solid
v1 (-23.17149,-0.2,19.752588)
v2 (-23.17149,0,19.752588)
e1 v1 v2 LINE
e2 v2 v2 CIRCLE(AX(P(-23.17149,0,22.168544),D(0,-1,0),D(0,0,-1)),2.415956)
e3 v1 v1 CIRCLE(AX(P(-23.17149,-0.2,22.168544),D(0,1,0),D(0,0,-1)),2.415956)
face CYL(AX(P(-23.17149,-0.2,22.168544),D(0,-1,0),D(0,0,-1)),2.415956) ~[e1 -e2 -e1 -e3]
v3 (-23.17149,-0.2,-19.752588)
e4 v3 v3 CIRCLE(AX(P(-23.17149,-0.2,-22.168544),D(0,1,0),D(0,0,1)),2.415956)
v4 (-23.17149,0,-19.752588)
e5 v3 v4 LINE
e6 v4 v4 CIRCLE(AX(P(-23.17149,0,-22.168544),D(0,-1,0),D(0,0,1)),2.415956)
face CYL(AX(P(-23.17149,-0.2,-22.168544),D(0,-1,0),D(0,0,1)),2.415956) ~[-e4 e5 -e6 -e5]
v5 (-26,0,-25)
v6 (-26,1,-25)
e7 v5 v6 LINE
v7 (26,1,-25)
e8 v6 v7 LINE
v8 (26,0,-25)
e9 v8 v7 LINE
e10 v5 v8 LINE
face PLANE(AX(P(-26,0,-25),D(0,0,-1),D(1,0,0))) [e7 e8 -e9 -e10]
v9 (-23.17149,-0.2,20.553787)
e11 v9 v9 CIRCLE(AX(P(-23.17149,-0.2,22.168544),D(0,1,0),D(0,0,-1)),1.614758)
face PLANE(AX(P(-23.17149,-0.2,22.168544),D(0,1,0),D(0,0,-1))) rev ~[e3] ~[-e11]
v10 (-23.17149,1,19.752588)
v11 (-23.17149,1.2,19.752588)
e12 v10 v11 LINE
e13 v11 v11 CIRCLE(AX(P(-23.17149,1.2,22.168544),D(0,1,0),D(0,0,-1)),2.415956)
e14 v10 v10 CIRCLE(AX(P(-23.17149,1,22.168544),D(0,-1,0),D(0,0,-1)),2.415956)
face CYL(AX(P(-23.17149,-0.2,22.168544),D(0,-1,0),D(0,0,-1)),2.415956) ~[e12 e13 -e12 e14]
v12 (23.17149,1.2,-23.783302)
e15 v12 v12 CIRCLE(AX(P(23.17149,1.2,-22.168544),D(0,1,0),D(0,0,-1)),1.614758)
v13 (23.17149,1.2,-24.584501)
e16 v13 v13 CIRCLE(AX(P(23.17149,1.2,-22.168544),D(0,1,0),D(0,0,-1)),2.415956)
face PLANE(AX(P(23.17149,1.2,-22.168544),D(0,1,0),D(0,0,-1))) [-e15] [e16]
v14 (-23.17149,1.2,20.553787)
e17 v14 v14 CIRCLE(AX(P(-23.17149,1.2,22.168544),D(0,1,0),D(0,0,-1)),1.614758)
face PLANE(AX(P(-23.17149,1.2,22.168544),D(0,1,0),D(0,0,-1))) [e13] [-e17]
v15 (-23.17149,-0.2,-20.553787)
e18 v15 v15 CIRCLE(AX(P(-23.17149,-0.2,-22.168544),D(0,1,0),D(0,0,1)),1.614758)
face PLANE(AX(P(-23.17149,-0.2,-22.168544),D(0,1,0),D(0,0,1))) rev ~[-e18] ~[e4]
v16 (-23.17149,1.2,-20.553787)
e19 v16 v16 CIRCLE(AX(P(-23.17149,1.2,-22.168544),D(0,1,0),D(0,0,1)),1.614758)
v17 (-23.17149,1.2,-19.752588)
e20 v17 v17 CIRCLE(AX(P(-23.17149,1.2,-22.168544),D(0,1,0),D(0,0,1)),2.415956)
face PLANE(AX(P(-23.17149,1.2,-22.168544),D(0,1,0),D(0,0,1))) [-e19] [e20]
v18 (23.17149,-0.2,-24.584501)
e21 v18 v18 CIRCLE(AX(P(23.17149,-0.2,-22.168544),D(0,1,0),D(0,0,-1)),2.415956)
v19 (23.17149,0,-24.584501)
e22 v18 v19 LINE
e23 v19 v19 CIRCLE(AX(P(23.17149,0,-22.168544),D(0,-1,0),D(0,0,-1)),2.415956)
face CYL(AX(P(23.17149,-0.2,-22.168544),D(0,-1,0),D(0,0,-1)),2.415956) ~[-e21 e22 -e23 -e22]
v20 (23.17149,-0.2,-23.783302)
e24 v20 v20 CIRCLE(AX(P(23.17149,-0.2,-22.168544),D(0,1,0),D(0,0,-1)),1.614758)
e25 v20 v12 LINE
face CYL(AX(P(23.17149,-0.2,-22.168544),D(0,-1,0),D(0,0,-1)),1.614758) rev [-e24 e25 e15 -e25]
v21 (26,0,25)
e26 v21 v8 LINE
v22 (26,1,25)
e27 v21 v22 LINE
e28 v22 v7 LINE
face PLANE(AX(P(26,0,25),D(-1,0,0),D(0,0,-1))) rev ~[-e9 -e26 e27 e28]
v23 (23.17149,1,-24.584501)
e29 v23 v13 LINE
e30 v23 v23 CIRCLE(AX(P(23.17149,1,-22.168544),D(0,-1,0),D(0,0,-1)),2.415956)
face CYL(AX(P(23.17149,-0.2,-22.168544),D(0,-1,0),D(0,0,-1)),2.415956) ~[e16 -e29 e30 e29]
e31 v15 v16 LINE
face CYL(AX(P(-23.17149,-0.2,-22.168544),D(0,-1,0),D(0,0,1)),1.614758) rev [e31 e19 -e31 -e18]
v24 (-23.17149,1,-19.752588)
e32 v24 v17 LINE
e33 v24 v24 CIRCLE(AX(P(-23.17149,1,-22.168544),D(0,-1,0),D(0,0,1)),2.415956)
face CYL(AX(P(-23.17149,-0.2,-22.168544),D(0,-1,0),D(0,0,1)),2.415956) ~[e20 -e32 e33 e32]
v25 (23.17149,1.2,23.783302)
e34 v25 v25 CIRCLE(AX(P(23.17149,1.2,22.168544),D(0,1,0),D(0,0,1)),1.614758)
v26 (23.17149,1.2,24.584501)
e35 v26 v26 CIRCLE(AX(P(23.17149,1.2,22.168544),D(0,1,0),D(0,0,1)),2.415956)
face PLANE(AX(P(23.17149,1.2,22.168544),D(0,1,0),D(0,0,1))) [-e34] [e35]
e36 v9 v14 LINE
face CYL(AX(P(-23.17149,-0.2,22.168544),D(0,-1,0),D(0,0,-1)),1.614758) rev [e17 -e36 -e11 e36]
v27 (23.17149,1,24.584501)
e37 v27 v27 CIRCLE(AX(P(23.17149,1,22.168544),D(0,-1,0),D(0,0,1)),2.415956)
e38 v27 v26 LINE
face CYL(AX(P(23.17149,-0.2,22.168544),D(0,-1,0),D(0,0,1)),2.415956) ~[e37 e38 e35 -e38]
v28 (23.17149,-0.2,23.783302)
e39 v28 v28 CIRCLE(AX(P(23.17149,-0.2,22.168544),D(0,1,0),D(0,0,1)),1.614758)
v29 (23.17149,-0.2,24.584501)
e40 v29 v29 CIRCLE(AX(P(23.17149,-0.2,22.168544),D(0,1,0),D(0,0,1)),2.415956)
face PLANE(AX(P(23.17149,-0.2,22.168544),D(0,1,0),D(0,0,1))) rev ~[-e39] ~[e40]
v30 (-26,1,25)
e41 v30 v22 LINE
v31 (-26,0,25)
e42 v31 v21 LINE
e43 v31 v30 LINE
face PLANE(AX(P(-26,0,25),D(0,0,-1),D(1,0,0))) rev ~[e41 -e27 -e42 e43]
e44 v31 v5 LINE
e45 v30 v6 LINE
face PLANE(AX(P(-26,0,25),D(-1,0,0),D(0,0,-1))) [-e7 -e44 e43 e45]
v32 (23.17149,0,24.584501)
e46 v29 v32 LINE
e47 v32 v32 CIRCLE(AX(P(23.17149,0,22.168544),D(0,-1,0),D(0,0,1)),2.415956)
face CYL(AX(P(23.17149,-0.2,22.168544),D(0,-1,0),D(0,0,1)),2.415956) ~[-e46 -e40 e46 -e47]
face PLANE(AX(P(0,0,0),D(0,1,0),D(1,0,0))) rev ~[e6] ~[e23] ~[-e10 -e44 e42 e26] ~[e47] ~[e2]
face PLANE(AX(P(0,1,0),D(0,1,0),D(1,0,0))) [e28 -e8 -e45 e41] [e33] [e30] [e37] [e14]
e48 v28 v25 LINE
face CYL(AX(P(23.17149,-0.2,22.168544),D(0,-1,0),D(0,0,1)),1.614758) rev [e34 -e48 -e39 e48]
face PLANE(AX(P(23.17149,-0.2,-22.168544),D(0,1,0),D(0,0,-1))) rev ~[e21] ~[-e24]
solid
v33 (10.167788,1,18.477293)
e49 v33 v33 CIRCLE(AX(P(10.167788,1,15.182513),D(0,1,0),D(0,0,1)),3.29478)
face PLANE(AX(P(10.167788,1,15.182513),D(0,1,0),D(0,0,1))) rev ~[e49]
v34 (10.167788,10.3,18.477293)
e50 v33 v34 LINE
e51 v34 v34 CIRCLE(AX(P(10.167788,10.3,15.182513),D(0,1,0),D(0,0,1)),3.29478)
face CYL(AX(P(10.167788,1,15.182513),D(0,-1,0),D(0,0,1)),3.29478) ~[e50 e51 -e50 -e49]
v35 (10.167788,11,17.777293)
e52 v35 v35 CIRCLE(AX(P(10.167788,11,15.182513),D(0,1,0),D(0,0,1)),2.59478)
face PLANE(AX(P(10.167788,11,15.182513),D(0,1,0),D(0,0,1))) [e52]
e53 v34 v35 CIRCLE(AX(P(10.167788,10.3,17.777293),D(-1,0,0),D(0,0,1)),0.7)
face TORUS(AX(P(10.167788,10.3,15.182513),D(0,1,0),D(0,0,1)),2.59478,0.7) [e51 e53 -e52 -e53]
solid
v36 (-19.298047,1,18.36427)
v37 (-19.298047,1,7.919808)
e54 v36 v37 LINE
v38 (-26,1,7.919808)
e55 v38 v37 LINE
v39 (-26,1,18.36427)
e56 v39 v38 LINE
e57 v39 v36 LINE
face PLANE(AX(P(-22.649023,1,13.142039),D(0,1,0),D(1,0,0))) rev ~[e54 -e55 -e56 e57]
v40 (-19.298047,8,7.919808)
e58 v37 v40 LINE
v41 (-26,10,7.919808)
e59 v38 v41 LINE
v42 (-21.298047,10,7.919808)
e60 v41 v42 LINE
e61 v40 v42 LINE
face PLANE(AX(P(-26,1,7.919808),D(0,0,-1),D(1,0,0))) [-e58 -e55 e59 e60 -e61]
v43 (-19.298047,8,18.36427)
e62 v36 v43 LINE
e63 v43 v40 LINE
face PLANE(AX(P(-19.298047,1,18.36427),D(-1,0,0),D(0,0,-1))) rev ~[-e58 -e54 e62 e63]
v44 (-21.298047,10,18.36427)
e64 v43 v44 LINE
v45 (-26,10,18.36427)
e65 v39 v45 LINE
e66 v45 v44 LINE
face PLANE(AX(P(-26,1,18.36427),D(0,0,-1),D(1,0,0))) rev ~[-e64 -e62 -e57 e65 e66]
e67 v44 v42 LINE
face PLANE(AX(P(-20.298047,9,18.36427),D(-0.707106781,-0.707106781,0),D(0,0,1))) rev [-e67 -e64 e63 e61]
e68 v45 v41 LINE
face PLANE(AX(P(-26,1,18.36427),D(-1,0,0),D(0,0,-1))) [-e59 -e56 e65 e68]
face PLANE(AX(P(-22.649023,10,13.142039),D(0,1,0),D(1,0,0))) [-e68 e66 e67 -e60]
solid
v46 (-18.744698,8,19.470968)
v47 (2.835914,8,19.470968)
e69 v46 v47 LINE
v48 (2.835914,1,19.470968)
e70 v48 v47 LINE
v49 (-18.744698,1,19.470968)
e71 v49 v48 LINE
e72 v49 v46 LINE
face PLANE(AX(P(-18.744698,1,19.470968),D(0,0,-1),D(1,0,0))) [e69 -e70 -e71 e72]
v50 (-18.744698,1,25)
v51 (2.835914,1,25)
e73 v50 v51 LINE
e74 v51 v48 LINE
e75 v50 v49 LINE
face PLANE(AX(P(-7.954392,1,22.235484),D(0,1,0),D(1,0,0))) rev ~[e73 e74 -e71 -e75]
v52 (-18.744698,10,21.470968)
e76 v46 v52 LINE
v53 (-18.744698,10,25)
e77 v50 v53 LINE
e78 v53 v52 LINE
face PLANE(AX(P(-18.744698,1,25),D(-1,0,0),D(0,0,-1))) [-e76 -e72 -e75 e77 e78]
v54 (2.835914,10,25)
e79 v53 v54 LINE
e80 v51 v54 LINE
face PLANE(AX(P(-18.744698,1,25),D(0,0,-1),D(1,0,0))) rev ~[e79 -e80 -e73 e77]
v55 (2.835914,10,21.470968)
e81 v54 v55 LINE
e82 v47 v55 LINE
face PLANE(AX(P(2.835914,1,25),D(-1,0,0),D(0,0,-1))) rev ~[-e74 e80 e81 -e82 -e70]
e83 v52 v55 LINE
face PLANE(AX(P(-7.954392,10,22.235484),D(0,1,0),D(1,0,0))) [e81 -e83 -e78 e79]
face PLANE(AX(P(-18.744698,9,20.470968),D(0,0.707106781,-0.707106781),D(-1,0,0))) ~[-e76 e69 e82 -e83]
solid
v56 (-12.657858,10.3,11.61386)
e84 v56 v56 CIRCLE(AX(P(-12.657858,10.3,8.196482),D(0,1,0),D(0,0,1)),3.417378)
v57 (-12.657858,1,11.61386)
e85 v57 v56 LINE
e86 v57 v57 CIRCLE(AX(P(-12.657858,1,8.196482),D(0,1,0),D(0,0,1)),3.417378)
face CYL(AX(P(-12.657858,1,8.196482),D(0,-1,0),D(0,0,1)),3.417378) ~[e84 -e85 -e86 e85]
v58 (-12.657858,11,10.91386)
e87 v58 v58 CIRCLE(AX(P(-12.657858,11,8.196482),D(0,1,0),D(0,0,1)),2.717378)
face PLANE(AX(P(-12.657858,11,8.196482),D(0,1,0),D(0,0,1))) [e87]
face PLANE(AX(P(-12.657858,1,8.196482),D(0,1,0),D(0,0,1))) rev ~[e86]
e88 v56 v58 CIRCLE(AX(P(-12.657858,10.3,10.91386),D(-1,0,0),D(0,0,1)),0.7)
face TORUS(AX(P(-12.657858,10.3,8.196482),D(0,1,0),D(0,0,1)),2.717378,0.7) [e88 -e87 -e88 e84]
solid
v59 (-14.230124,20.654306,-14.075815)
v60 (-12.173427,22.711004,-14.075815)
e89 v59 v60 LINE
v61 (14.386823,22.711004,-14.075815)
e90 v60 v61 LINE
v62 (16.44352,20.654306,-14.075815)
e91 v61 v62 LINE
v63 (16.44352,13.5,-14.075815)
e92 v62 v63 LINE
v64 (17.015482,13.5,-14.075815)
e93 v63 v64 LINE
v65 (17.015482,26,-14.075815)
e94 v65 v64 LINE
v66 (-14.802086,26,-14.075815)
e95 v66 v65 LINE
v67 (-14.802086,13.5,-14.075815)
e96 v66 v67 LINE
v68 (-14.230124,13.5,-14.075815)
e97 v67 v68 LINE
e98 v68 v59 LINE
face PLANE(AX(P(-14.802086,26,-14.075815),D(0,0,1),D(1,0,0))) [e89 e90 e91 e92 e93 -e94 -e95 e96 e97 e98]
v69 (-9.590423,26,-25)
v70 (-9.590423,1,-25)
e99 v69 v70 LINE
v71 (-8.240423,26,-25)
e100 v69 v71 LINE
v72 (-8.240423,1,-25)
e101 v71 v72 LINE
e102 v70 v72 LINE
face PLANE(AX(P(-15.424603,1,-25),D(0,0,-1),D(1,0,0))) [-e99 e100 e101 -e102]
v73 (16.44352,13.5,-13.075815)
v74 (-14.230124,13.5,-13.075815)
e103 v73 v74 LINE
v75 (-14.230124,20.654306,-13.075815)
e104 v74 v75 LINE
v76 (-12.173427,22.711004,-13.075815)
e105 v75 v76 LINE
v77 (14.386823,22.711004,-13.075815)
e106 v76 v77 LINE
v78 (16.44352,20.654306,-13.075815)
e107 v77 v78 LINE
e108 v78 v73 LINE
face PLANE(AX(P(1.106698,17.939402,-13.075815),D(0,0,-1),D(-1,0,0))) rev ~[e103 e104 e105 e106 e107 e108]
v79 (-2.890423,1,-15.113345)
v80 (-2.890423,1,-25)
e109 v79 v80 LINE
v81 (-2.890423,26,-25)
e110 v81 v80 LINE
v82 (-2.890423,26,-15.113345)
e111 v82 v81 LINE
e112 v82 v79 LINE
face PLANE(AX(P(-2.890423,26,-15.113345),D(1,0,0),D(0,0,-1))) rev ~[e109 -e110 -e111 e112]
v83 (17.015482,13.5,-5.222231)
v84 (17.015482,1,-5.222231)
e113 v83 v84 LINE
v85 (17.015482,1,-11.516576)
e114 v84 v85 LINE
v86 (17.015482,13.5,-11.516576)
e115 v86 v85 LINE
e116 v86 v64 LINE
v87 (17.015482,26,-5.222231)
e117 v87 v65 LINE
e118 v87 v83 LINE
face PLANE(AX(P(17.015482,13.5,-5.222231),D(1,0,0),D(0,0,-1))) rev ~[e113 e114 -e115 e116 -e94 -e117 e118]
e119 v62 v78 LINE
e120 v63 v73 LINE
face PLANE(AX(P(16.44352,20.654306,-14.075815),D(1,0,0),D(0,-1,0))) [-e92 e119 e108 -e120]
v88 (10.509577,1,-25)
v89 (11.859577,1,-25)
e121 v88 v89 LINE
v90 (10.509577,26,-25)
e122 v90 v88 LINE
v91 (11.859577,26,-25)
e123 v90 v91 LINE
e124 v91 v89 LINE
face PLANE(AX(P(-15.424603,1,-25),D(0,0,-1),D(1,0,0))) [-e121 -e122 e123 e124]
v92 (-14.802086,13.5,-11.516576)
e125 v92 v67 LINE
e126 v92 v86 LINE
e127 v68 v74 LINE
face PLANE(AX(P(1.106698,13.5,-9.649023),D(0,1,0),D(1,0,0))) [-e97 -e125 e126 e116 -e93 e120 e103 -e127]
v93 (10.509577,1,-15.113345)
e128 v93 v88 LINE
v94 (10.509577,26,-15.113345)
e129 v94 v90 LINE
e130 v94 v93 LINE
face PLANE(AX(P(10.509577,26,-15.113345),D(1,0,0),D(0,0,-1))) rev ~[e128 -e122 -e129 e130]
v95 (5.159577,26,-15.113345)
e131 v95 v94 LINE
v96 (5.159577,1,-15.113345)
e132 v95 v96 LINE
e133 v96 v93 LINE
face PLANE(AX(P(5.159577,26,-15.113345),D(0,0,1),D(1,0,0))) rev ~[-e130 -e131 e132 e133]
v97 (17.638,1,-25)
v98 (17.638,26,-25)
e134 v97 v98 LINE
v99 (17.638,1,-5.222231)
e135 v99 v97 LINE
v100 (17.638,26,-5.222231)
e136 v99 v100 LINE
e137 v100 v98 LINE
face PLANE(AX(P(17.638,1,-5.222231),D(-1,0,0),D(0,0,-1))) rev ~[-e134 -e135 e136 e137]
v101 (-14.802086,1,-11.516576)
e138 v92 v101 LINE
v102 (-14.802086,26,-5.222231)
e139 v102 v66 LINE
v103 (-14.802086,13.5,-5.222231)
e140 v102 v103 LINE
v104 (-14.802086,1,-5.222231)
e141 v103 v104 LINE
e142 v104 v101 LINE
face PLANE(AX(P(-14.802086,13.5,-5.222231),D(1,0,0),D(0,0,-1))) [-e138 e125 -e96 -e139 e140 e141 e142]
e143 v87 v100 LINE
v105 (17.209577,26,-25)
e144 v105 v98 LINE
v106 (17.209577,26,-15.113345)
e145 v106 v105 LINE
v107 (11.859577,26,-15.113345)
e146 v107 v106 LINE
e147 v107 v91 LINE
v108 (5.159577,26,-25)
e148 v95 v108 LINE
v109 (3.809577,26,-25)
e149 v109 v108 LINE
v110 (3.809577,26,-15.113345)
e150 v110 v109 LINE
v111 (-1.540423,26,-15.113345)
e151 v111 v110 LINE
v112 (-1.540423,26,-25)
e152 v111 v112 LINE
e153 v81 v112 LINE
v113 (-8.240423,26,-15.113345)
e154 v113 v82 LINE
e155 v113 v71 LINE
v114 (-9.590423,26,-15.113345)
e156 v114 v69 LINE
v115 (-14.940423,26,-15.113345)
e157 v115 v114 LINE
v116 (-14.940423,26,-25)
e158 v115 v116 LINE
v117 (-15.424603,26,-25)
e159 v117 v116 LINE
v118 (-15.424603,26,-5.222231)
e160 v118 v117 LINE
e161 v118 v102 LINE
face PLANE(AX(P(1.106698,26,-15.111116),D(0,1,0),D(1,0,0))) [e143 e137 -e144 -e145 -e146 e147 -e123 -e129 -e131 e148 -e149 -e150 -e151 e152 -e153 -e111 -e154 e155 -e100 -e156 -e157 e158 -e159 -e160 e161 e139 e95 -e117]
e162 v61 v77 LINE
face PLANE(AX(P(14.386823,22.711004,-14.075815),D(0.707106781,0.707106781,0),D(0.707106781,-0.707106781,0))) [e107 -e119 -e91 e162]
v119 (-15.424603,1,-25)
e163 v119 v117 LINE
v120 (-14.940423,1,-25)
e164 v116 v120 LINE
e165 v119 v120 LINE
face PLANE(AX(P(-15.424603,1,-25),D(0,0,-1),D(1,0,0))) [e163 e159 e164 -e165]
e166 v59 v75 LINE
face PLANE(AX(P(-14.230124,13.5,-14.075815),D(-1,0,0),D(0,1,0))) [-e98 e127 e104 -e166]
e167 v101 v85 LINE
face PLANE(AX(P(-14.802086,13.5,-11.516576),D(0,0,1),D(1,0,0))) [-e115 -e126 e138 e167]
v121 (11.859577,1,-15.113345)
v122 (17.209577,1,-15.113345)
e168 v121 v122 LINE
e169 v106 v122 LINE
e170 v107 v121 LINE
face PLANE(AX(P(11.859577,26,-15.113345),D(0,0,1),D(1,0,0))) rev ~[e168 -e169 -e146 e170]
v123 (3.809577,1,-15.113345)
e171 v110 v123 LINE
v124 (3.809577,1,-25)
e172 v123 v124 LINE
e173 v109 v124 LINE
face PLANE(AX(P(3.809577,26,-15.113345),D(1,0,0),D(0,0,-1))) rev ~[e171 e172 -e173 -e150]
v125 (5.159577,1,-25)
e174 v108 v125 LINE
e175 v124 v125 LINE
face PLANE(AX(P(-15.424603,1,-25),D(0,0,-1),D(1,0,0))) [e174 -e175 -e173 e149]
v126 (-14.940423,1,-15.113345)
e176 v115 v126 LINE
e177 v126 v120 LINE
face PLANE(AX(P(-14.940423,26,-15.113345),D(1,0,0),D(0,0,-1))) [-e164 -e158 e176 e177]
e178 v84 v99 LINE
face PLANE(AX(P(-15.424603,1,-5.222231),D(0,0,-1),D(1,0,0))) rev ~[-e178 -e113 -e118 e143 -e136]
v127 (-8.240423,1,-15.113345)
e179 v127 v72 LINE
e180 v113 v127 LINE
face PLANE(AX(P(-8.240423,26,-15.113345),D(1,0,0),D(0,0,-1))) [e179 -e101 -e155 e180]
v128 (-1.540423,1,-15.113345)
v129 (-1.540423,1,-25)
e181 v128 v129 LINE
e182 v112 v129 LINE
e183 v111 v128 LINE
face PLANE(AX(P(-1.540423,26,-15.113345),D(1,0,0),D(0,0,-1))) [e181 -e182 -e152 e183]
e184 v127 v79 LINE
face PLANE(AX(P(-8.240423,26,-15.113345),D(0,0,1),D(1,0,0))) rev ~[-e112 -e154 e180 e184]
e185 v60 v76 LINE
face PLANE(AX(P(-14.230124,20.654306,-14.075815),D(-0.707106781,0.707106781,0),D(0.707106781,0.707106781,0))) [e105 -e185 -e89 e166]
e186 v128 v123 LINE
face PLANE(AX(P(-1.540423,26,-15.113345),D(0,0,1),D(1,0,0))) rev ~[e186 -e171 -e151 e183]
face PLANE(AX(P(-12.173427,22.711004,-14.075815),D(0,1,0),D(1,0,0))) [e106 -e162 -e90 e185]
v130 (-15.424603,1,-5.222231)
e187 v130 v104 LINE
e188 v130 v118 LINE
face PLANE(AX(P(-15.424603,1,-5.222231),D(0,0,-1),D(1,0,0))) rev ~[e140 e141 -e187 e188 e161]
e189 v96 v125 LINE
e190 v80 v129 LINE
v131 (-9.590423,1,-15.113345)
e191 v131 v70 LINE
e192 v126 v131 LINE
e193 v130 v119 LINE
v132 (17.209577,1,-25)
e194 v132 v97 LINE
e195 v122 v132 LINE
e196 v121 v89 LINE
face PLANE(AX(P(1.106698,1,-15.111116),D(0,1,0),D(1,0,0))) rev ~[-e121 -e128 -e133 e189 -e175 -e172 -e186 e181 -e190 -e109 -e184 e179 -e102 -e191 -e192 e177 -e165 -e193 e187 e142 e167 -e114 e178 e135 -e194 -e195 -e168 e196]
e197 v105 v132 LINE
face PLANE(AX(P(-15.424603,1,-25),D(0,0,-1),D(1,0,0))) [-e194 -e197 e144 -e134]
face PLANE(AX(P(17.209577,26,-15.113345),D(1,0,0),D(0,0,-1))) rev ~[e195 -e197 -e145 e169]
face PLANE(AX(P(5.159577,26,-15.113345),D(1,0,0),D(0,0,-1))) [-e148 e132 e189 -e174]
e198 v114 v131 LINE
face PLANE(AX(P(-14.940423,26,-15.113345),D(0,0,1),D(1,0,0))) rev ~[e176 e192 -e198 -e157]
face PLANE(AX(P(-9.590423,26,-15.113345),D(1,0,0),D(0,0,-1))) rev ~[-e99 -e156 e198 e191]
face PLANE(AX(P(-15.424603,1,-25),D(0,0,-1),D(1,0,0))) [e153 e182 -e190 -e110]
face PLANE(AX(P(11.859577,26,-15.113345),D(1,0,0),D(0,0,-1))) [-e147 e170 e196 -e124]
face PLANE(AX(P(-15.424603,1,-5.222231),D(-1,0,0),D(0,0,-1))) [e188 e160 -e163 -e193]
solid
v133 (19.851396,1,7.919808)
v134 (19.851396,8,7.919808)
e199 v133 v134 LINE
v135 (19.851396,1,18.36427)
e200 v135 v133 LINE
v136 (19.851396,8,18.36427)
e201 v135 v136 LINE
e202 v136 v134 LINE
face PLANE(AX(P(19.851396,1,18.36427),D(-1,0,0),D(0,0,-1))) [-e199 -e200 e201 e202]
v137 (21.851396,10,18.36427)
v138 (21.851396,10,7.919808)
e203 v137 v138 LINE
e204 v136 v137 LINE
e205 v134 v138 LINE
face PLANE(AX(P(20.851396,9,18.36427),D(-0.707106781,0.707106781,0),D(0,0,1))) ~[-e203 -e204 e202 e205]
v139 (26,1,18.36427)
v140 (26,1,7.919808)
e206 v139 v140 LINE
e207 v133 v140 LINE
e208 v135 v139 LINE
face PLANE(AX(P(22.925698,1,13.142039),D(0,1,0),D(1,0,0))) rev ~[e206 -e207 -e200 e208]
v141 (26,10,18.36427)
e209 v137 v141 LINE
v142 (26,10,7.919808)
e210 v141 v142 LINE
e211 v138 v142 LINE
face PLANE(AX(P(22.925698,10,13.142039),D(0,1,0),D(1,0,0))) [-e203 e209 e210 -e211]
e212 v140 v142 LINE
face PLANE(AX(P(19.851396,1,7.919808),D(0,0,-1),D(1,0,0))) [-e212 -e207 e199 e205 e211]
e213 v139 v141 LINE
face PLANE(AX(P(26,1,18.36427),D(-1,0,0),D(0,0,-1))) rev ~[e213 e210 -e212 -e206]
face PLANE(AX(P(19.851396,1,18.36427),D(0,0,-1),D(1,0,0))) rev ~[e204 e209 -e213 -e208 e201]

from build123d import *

# Parameters (mm, degrees)
SKETCH1_W                = 52
SKETCH1_H                = 50
BOSS_EXTRUDE1_DEPTH      = 1
SKETCH2_W                = 21.580611169
SKETCH2_H                = 5.529031909
BOSS_EXTRUDE2_DEPTH      = 9
SKETCH2_W_2              = 6.701953473
SKETCH2_H_2              = 10.444462457
BOSS_EXTRUDE2_2_DEPTH    = 9
SKETCH2_W_3              = 6.148604469
BOSS_EXTRUDE2_3_DEPTH    = 9
SKETCH3_R                = 3.417378128
BOSS_EXTRUDE3_DEPTH      = 10
SKETCH3_R_2              = 3.294779793
BOSS_EXTRUDE3_2_DEPTH    = 10
SKETCH4_R                = 1.614757822
CUT_EXTRUDE1_DEPTH       = 10
BOSS_EXTRUDE4_DEPTH      = 0.2
BOSS_EXTRUDE4_DEPTH_BACK = 1.2
SKETCH5_R                = 2.415956226
SKETCH5_R_2              = 1.614757822
SKETCH6_W                = 33.06260301
SKETCH6_H                = 19.777768771
BOSS_EXTRUDE5_DEPTH      = 25
SKETCH7_W                = 5.35
SKETCH7_H                = 9.886655319
CUT_EXTRUDE2_DEPTH       = 25
SKETCH8_W                = 31.81756775
SKETCH8_H                = 8.853584069
CUT_EXTRUDE3_DEPTH       = 12.5
SKETCH9_W                = 31.81756775
SKETCH9_H                = 6.294344924
CUT_EXTRUDE4_DEPTH       = 12.5
BOSS_EXTRUDE6_DEPTH      = 1
FILLET1_R                = 0.7
FILLET2_R                = 0.7
CHAMFER1_SIZE            = 2
CHAMFER2_SIZE            = 2
CHAMFER3_SIZE            = 2


with BuildPart() as part:
    # Sketch1 → Boss-Extrude1 (new body)
    with BuildSketch(Plane(origin=(0, 0, 0), x_dir=(1, 0, 0), z_dir=(0, 1, 0))):
        Rectangle(SKETCH1_W, SKETCH1_H)
    extrude(amount=BOSS_EXTRUDE1_DEPTH)

    # Sketch4 → Cut-Extrude1 (cut)
    with BuildSketch(Plane(origin=(0, 1, 0), x_dir=(1, 0, 0), z_dir=(0, 1, 0))):
        with Locations(Location((-23.171489557, 22.168544487, 0), (0, 0, 270))):
            Circle(SKETCH4_R)
        with Locations(Location((23.171489557, 22.168544487, 0), (0, 0, 90))):
            Circle(SKETCH4_R)
        with Locations(Location((23.171489557, -22.168544487, 0), (0, 0, 270))):
            Circle(SKETCH4_R)
        with Locations(Location((-23.171489557, -22.168544487, 0), (0, 0, 90))):
            Circle(SKETCH4_R)
    extrude(amount=-CUT_EXTRUDE1_DEPTH, mode=Mode.SUBTRACT)

    # Sketch5 → Boss-Extrude4 (add, two sides: drawn at the far end of the back side and taken through both)
    # profile 1 of 4: a face of its own
    with BuildSketch(Plane(origin=(0, 1, 0), x_dir=(1, 0, 0), z_dir=(0, 1, 0)).offset(-BOSS_EXTRUDE4_DEPTH_BACK)):
        with Locations(Location((-23.171489557, 22.168544487, 0), (0, 0, 270))):
            Circle(SKETCH5_R)
        with Locations(Location((-23.171489557, 22.168544487, 0), (0, 0, 270))):
            Circle(SKETCH5_R_2, mode=Mode.SUBTRACT)
    # profile 2 of 4: a face of its own
    with BuildSketch(Plane(origin=(0, 1, 0), x_dir=(1, 0, 0), z_dir=(0, 1, 0)).offset(-BOSS_EXTRUDE4_DEPTH_BACK)):
        with Locations(Location((23.171489557, 22.168544487, 0), (0, 0, 90))):
            Circle(SKETCH5_R)
        with Locations(Location((23.171489557, 22.168544487, 0), (0, 0, 90))):
            Circle(SKETCH5_R_2, mode=Mode.SUBTRACT)
    # profile 3 of 4: a face of its own
    with BuildSketch(Plane(origin=(0, 1, 0), x_dir=(1, 0, 0), z_dir=(0, 1, 0)).offset(-BOSS_EXTRUDE4_DEPTH_BACK)):
        with Locations(Location((23.171489557, -22.168544487, 0), (0, 0, 270))):
            Circle(SKETCH5_R)
        with Locations(Location((23.171489557, -22.168544487, 0), (0, 0, 270))):
            Circle(SKETCH5_R_2, mode=Mode.SUBTRACT)
    # profile 4 of 4: a face of its own
    with BuildSketch(Plane(origin=(0, 1, 0), x_dir=(1, 0, 0), z_dir=(0, 1, 0)).offset(-BOSS_EXTRUDE4_DEPTH_BACK)):
        with Locations(Location((-23.171489557, -22.168544487, 0), (0, 0, 90))):
            Circle(SKETCH5_R)
        with Locations(Location((-23.171489557, -22.168544487, 0), (0, 0, 90))):
            Circle(SKETCH5_R_2, mode=Mode.SUBTRACT)
    extrude(amount=BOSS_EXTRUDE4_DEPTH + BOSS_EXTRUDE4_DEPTH_BACK)


with BuildPart() as body_2:
    # Sketch2 → Boss-Extrude2 (new body)
    with BuildSketch(Plane(origin=(0, 1, 0), x_dir=(1, 0, 0), z_dir=(0, 1, 0))):
        with Locations((-7.954391938, -22.235484046)):
            Rectangle(SKETCH2_W, SKETCH2_H)
    extrude(amount=BOSS_EXTRUDE2_DEPTH)

    # Chamfer2
    chamfer2_edges = [body_2.edges().sort_by_distance(p)[0] for p in [
        (-7.954391938, 10, 19.470968091),
    ]]
    chamfer(chamfer2_edges, length=CHAMFER2_SIZE)


with BuildPart() as body_3:
    # Sketch2 → Boss-Extrude2 2 (new body)
    with BuildSketch(Plane(origin=(0, 1, 0), x_dir=(1, 0, 0), z_dir=(0, 1, 0))):
        with Locations((-22.649023263, -13.142038854)):
            Rectangle(SKETCH2_W_2, SKETCH2_H_2)
    extrude(amount=BOSS_EXTRUDE2_2_DEPTH)

    # Chamfer3
    chamfer3_edges = [body_3.edges().sort_by_distance(p)[0] for p in [
        (-19.298046527, 10, 13.142038853),
    ]]
    chamfer(chamfer3_edges, length=CHAMFER3_SIZE)


with BuildPart() as body_4:
    # Sketch2 → Boss-Extrude2 3 (new body)
    with BuildSketch(Plane(origin=(0, 1, 0), x_dir=(1, 0, 0), z_dir=(0, 1, 0))):
        with Locations((22.925697766, -13.142038854)):
            Rectangle(SKETCH2_W_3, SKETCH2_H_2)
    extrude(amount=BOSS_EXTRUDE2_3_DEPTH)

    # Chamfer1
    chamfer1_edges = [body_4.edges().sort_by_distance(p)[0] for p in [
        (19.851395531, 10, 13.142038853),
    ]]
    chamfer(chamfer1_edges, length=CHAMFER1_SIZE)


with BuildPart() as body_5:
    # Sketch3 → Boss-Extrude3 (new body)
    with BuildSketch(Plane(origin=(0, 1, 0), x_dir=(1, 0, 0), z_dir=(0, 1, 0))):
        with Locations(Location((-12.657858475, -8.196482127, 0), (0, 0, 270))):
            Circle(SKETCH3_R)
    extrude(amount=BOSS_EXTRUDE3_DEPTH)

    # Fillet2
    fillet2_edges = [body_5.edges().sort_by_distance(p)[0] for p in [
        (-12.657858475, 11, 4.779103999),
    ]]
    fillet(fillet2_edges, radius=FILLET2_R)


with BuildPart() as body_6:
    # Sketch3 → Boss-Extrude3 2 (new body)
    with BuildSketch(Plane(origin=(0, 1, 0), x_dir=(1, 0, 0), z_dir=(0, 1, 0))):
        with Locations(Location((10.167787955, -15.182513307, 0), (0, 0, 270))):
            Circle(SKETCH3_R_2)
    extrude(amount=BOSS_EXTRUDE3_2_DEPTH)

    # Fillet1
    fillet1_edges = [body_6.edges().sort_by_distance(p)[0] for p in [
        (10.167787955, 11, 11.887733514),
    ]]
    fillet(fillet1_edges, radius=FILLET1_R)


with BuildPart() as body_7:
    # Sketch6 → Boss-Extrude5 (new body)
    with BuildSketch(Plane(origin=(0, 1, 0), x_dir=(1, 0, 0), z_dir=(0, 1, 0))):
        with Locations((1.106698009, 15.111115615)):
            Rectangle(SKETCH6_W, SKETCH6_H)
    extrude(amount=BOSS_EXTRUDE5_DEPTH)

    # Sketch7 → Cut-Extrude2 (cut)
    with BuildSketch(Plane(origin=(0, 26, 0), x_dir=(1, 0, 0), z_dir=(0, 1, 0))):
        with Locations((-12.265423117, 20.056672341)):
            Rectangle(SKETCH7_W, SKETCH7_H)
        with Locations((-5.565423117, 20.056672341)):
            Rectangle(SKETCH7_W, SKETCH7_H)
        with Locations((1.134576883, 20.056672341)):
            Rectangle(SKETCH7_W, SKETCH7_H)
        with Locations((7.834576883, 20.056672341)):
            Rectangle(SKETCH7_W, SKETCH7_H)
        with Locations((14.534576883, 20.056672341)):
            Rectangle(SKETCH7_W, SKETCH7_H)
    extrude(amount=-CUT_EXTRUDE2_DEPTH, mode=Mode.SUBTRACT)

    # Sketch8 → Cut-Extrude3 (cut)
    with BuildSketch(Plane(origin=(0, 26, 0), x_dir=(1, 0, 0), z_dir=(0, 1, 0))):
        with Locations((1.106698009, 9.649023264)):
            Rectangle(SKETCH8_W, SKETCH8_H)
    extrude(amount=-CUT_EXTRUDE3_DEPTH, mode=Mode.SUBTRACT)

    # Sketch9 → Cut-Extrude4 (cut)
    with BuildSketch(Plane(origin=(0, 13.5, 0), x_dir=(1, 0, 0), z_dir=(0, 1, 0))):
        with Locations((1.106698009, 8.369403691)):
            Rectangle(SKETCH9_W, SKETCH9_H)
    extrude(amount=-CUT_EXTRUDE4_DEPTH, mode=Mode.SUBTRACT)

    # Sketch10 → Boss-Extrude6 (add)
    with BuildSketch(Plane.XY.offset(-14.075815298)):
        Polygon((-14.230124214, 13.5), (-14.230124214, 20.654305968), (-12.173426573, 22.711003608), (14.386822591, 22.711003608), (16.443520231, 20.654305968), (16.443520231, 13.5), align=None)
    extrude(amount=BOSS_EXTRUDE6_DEPTH)


solid = Compound([part.part, body_2.part, body_3.part, body_4.part, body_5.part, body_6.part, body_7.part])
